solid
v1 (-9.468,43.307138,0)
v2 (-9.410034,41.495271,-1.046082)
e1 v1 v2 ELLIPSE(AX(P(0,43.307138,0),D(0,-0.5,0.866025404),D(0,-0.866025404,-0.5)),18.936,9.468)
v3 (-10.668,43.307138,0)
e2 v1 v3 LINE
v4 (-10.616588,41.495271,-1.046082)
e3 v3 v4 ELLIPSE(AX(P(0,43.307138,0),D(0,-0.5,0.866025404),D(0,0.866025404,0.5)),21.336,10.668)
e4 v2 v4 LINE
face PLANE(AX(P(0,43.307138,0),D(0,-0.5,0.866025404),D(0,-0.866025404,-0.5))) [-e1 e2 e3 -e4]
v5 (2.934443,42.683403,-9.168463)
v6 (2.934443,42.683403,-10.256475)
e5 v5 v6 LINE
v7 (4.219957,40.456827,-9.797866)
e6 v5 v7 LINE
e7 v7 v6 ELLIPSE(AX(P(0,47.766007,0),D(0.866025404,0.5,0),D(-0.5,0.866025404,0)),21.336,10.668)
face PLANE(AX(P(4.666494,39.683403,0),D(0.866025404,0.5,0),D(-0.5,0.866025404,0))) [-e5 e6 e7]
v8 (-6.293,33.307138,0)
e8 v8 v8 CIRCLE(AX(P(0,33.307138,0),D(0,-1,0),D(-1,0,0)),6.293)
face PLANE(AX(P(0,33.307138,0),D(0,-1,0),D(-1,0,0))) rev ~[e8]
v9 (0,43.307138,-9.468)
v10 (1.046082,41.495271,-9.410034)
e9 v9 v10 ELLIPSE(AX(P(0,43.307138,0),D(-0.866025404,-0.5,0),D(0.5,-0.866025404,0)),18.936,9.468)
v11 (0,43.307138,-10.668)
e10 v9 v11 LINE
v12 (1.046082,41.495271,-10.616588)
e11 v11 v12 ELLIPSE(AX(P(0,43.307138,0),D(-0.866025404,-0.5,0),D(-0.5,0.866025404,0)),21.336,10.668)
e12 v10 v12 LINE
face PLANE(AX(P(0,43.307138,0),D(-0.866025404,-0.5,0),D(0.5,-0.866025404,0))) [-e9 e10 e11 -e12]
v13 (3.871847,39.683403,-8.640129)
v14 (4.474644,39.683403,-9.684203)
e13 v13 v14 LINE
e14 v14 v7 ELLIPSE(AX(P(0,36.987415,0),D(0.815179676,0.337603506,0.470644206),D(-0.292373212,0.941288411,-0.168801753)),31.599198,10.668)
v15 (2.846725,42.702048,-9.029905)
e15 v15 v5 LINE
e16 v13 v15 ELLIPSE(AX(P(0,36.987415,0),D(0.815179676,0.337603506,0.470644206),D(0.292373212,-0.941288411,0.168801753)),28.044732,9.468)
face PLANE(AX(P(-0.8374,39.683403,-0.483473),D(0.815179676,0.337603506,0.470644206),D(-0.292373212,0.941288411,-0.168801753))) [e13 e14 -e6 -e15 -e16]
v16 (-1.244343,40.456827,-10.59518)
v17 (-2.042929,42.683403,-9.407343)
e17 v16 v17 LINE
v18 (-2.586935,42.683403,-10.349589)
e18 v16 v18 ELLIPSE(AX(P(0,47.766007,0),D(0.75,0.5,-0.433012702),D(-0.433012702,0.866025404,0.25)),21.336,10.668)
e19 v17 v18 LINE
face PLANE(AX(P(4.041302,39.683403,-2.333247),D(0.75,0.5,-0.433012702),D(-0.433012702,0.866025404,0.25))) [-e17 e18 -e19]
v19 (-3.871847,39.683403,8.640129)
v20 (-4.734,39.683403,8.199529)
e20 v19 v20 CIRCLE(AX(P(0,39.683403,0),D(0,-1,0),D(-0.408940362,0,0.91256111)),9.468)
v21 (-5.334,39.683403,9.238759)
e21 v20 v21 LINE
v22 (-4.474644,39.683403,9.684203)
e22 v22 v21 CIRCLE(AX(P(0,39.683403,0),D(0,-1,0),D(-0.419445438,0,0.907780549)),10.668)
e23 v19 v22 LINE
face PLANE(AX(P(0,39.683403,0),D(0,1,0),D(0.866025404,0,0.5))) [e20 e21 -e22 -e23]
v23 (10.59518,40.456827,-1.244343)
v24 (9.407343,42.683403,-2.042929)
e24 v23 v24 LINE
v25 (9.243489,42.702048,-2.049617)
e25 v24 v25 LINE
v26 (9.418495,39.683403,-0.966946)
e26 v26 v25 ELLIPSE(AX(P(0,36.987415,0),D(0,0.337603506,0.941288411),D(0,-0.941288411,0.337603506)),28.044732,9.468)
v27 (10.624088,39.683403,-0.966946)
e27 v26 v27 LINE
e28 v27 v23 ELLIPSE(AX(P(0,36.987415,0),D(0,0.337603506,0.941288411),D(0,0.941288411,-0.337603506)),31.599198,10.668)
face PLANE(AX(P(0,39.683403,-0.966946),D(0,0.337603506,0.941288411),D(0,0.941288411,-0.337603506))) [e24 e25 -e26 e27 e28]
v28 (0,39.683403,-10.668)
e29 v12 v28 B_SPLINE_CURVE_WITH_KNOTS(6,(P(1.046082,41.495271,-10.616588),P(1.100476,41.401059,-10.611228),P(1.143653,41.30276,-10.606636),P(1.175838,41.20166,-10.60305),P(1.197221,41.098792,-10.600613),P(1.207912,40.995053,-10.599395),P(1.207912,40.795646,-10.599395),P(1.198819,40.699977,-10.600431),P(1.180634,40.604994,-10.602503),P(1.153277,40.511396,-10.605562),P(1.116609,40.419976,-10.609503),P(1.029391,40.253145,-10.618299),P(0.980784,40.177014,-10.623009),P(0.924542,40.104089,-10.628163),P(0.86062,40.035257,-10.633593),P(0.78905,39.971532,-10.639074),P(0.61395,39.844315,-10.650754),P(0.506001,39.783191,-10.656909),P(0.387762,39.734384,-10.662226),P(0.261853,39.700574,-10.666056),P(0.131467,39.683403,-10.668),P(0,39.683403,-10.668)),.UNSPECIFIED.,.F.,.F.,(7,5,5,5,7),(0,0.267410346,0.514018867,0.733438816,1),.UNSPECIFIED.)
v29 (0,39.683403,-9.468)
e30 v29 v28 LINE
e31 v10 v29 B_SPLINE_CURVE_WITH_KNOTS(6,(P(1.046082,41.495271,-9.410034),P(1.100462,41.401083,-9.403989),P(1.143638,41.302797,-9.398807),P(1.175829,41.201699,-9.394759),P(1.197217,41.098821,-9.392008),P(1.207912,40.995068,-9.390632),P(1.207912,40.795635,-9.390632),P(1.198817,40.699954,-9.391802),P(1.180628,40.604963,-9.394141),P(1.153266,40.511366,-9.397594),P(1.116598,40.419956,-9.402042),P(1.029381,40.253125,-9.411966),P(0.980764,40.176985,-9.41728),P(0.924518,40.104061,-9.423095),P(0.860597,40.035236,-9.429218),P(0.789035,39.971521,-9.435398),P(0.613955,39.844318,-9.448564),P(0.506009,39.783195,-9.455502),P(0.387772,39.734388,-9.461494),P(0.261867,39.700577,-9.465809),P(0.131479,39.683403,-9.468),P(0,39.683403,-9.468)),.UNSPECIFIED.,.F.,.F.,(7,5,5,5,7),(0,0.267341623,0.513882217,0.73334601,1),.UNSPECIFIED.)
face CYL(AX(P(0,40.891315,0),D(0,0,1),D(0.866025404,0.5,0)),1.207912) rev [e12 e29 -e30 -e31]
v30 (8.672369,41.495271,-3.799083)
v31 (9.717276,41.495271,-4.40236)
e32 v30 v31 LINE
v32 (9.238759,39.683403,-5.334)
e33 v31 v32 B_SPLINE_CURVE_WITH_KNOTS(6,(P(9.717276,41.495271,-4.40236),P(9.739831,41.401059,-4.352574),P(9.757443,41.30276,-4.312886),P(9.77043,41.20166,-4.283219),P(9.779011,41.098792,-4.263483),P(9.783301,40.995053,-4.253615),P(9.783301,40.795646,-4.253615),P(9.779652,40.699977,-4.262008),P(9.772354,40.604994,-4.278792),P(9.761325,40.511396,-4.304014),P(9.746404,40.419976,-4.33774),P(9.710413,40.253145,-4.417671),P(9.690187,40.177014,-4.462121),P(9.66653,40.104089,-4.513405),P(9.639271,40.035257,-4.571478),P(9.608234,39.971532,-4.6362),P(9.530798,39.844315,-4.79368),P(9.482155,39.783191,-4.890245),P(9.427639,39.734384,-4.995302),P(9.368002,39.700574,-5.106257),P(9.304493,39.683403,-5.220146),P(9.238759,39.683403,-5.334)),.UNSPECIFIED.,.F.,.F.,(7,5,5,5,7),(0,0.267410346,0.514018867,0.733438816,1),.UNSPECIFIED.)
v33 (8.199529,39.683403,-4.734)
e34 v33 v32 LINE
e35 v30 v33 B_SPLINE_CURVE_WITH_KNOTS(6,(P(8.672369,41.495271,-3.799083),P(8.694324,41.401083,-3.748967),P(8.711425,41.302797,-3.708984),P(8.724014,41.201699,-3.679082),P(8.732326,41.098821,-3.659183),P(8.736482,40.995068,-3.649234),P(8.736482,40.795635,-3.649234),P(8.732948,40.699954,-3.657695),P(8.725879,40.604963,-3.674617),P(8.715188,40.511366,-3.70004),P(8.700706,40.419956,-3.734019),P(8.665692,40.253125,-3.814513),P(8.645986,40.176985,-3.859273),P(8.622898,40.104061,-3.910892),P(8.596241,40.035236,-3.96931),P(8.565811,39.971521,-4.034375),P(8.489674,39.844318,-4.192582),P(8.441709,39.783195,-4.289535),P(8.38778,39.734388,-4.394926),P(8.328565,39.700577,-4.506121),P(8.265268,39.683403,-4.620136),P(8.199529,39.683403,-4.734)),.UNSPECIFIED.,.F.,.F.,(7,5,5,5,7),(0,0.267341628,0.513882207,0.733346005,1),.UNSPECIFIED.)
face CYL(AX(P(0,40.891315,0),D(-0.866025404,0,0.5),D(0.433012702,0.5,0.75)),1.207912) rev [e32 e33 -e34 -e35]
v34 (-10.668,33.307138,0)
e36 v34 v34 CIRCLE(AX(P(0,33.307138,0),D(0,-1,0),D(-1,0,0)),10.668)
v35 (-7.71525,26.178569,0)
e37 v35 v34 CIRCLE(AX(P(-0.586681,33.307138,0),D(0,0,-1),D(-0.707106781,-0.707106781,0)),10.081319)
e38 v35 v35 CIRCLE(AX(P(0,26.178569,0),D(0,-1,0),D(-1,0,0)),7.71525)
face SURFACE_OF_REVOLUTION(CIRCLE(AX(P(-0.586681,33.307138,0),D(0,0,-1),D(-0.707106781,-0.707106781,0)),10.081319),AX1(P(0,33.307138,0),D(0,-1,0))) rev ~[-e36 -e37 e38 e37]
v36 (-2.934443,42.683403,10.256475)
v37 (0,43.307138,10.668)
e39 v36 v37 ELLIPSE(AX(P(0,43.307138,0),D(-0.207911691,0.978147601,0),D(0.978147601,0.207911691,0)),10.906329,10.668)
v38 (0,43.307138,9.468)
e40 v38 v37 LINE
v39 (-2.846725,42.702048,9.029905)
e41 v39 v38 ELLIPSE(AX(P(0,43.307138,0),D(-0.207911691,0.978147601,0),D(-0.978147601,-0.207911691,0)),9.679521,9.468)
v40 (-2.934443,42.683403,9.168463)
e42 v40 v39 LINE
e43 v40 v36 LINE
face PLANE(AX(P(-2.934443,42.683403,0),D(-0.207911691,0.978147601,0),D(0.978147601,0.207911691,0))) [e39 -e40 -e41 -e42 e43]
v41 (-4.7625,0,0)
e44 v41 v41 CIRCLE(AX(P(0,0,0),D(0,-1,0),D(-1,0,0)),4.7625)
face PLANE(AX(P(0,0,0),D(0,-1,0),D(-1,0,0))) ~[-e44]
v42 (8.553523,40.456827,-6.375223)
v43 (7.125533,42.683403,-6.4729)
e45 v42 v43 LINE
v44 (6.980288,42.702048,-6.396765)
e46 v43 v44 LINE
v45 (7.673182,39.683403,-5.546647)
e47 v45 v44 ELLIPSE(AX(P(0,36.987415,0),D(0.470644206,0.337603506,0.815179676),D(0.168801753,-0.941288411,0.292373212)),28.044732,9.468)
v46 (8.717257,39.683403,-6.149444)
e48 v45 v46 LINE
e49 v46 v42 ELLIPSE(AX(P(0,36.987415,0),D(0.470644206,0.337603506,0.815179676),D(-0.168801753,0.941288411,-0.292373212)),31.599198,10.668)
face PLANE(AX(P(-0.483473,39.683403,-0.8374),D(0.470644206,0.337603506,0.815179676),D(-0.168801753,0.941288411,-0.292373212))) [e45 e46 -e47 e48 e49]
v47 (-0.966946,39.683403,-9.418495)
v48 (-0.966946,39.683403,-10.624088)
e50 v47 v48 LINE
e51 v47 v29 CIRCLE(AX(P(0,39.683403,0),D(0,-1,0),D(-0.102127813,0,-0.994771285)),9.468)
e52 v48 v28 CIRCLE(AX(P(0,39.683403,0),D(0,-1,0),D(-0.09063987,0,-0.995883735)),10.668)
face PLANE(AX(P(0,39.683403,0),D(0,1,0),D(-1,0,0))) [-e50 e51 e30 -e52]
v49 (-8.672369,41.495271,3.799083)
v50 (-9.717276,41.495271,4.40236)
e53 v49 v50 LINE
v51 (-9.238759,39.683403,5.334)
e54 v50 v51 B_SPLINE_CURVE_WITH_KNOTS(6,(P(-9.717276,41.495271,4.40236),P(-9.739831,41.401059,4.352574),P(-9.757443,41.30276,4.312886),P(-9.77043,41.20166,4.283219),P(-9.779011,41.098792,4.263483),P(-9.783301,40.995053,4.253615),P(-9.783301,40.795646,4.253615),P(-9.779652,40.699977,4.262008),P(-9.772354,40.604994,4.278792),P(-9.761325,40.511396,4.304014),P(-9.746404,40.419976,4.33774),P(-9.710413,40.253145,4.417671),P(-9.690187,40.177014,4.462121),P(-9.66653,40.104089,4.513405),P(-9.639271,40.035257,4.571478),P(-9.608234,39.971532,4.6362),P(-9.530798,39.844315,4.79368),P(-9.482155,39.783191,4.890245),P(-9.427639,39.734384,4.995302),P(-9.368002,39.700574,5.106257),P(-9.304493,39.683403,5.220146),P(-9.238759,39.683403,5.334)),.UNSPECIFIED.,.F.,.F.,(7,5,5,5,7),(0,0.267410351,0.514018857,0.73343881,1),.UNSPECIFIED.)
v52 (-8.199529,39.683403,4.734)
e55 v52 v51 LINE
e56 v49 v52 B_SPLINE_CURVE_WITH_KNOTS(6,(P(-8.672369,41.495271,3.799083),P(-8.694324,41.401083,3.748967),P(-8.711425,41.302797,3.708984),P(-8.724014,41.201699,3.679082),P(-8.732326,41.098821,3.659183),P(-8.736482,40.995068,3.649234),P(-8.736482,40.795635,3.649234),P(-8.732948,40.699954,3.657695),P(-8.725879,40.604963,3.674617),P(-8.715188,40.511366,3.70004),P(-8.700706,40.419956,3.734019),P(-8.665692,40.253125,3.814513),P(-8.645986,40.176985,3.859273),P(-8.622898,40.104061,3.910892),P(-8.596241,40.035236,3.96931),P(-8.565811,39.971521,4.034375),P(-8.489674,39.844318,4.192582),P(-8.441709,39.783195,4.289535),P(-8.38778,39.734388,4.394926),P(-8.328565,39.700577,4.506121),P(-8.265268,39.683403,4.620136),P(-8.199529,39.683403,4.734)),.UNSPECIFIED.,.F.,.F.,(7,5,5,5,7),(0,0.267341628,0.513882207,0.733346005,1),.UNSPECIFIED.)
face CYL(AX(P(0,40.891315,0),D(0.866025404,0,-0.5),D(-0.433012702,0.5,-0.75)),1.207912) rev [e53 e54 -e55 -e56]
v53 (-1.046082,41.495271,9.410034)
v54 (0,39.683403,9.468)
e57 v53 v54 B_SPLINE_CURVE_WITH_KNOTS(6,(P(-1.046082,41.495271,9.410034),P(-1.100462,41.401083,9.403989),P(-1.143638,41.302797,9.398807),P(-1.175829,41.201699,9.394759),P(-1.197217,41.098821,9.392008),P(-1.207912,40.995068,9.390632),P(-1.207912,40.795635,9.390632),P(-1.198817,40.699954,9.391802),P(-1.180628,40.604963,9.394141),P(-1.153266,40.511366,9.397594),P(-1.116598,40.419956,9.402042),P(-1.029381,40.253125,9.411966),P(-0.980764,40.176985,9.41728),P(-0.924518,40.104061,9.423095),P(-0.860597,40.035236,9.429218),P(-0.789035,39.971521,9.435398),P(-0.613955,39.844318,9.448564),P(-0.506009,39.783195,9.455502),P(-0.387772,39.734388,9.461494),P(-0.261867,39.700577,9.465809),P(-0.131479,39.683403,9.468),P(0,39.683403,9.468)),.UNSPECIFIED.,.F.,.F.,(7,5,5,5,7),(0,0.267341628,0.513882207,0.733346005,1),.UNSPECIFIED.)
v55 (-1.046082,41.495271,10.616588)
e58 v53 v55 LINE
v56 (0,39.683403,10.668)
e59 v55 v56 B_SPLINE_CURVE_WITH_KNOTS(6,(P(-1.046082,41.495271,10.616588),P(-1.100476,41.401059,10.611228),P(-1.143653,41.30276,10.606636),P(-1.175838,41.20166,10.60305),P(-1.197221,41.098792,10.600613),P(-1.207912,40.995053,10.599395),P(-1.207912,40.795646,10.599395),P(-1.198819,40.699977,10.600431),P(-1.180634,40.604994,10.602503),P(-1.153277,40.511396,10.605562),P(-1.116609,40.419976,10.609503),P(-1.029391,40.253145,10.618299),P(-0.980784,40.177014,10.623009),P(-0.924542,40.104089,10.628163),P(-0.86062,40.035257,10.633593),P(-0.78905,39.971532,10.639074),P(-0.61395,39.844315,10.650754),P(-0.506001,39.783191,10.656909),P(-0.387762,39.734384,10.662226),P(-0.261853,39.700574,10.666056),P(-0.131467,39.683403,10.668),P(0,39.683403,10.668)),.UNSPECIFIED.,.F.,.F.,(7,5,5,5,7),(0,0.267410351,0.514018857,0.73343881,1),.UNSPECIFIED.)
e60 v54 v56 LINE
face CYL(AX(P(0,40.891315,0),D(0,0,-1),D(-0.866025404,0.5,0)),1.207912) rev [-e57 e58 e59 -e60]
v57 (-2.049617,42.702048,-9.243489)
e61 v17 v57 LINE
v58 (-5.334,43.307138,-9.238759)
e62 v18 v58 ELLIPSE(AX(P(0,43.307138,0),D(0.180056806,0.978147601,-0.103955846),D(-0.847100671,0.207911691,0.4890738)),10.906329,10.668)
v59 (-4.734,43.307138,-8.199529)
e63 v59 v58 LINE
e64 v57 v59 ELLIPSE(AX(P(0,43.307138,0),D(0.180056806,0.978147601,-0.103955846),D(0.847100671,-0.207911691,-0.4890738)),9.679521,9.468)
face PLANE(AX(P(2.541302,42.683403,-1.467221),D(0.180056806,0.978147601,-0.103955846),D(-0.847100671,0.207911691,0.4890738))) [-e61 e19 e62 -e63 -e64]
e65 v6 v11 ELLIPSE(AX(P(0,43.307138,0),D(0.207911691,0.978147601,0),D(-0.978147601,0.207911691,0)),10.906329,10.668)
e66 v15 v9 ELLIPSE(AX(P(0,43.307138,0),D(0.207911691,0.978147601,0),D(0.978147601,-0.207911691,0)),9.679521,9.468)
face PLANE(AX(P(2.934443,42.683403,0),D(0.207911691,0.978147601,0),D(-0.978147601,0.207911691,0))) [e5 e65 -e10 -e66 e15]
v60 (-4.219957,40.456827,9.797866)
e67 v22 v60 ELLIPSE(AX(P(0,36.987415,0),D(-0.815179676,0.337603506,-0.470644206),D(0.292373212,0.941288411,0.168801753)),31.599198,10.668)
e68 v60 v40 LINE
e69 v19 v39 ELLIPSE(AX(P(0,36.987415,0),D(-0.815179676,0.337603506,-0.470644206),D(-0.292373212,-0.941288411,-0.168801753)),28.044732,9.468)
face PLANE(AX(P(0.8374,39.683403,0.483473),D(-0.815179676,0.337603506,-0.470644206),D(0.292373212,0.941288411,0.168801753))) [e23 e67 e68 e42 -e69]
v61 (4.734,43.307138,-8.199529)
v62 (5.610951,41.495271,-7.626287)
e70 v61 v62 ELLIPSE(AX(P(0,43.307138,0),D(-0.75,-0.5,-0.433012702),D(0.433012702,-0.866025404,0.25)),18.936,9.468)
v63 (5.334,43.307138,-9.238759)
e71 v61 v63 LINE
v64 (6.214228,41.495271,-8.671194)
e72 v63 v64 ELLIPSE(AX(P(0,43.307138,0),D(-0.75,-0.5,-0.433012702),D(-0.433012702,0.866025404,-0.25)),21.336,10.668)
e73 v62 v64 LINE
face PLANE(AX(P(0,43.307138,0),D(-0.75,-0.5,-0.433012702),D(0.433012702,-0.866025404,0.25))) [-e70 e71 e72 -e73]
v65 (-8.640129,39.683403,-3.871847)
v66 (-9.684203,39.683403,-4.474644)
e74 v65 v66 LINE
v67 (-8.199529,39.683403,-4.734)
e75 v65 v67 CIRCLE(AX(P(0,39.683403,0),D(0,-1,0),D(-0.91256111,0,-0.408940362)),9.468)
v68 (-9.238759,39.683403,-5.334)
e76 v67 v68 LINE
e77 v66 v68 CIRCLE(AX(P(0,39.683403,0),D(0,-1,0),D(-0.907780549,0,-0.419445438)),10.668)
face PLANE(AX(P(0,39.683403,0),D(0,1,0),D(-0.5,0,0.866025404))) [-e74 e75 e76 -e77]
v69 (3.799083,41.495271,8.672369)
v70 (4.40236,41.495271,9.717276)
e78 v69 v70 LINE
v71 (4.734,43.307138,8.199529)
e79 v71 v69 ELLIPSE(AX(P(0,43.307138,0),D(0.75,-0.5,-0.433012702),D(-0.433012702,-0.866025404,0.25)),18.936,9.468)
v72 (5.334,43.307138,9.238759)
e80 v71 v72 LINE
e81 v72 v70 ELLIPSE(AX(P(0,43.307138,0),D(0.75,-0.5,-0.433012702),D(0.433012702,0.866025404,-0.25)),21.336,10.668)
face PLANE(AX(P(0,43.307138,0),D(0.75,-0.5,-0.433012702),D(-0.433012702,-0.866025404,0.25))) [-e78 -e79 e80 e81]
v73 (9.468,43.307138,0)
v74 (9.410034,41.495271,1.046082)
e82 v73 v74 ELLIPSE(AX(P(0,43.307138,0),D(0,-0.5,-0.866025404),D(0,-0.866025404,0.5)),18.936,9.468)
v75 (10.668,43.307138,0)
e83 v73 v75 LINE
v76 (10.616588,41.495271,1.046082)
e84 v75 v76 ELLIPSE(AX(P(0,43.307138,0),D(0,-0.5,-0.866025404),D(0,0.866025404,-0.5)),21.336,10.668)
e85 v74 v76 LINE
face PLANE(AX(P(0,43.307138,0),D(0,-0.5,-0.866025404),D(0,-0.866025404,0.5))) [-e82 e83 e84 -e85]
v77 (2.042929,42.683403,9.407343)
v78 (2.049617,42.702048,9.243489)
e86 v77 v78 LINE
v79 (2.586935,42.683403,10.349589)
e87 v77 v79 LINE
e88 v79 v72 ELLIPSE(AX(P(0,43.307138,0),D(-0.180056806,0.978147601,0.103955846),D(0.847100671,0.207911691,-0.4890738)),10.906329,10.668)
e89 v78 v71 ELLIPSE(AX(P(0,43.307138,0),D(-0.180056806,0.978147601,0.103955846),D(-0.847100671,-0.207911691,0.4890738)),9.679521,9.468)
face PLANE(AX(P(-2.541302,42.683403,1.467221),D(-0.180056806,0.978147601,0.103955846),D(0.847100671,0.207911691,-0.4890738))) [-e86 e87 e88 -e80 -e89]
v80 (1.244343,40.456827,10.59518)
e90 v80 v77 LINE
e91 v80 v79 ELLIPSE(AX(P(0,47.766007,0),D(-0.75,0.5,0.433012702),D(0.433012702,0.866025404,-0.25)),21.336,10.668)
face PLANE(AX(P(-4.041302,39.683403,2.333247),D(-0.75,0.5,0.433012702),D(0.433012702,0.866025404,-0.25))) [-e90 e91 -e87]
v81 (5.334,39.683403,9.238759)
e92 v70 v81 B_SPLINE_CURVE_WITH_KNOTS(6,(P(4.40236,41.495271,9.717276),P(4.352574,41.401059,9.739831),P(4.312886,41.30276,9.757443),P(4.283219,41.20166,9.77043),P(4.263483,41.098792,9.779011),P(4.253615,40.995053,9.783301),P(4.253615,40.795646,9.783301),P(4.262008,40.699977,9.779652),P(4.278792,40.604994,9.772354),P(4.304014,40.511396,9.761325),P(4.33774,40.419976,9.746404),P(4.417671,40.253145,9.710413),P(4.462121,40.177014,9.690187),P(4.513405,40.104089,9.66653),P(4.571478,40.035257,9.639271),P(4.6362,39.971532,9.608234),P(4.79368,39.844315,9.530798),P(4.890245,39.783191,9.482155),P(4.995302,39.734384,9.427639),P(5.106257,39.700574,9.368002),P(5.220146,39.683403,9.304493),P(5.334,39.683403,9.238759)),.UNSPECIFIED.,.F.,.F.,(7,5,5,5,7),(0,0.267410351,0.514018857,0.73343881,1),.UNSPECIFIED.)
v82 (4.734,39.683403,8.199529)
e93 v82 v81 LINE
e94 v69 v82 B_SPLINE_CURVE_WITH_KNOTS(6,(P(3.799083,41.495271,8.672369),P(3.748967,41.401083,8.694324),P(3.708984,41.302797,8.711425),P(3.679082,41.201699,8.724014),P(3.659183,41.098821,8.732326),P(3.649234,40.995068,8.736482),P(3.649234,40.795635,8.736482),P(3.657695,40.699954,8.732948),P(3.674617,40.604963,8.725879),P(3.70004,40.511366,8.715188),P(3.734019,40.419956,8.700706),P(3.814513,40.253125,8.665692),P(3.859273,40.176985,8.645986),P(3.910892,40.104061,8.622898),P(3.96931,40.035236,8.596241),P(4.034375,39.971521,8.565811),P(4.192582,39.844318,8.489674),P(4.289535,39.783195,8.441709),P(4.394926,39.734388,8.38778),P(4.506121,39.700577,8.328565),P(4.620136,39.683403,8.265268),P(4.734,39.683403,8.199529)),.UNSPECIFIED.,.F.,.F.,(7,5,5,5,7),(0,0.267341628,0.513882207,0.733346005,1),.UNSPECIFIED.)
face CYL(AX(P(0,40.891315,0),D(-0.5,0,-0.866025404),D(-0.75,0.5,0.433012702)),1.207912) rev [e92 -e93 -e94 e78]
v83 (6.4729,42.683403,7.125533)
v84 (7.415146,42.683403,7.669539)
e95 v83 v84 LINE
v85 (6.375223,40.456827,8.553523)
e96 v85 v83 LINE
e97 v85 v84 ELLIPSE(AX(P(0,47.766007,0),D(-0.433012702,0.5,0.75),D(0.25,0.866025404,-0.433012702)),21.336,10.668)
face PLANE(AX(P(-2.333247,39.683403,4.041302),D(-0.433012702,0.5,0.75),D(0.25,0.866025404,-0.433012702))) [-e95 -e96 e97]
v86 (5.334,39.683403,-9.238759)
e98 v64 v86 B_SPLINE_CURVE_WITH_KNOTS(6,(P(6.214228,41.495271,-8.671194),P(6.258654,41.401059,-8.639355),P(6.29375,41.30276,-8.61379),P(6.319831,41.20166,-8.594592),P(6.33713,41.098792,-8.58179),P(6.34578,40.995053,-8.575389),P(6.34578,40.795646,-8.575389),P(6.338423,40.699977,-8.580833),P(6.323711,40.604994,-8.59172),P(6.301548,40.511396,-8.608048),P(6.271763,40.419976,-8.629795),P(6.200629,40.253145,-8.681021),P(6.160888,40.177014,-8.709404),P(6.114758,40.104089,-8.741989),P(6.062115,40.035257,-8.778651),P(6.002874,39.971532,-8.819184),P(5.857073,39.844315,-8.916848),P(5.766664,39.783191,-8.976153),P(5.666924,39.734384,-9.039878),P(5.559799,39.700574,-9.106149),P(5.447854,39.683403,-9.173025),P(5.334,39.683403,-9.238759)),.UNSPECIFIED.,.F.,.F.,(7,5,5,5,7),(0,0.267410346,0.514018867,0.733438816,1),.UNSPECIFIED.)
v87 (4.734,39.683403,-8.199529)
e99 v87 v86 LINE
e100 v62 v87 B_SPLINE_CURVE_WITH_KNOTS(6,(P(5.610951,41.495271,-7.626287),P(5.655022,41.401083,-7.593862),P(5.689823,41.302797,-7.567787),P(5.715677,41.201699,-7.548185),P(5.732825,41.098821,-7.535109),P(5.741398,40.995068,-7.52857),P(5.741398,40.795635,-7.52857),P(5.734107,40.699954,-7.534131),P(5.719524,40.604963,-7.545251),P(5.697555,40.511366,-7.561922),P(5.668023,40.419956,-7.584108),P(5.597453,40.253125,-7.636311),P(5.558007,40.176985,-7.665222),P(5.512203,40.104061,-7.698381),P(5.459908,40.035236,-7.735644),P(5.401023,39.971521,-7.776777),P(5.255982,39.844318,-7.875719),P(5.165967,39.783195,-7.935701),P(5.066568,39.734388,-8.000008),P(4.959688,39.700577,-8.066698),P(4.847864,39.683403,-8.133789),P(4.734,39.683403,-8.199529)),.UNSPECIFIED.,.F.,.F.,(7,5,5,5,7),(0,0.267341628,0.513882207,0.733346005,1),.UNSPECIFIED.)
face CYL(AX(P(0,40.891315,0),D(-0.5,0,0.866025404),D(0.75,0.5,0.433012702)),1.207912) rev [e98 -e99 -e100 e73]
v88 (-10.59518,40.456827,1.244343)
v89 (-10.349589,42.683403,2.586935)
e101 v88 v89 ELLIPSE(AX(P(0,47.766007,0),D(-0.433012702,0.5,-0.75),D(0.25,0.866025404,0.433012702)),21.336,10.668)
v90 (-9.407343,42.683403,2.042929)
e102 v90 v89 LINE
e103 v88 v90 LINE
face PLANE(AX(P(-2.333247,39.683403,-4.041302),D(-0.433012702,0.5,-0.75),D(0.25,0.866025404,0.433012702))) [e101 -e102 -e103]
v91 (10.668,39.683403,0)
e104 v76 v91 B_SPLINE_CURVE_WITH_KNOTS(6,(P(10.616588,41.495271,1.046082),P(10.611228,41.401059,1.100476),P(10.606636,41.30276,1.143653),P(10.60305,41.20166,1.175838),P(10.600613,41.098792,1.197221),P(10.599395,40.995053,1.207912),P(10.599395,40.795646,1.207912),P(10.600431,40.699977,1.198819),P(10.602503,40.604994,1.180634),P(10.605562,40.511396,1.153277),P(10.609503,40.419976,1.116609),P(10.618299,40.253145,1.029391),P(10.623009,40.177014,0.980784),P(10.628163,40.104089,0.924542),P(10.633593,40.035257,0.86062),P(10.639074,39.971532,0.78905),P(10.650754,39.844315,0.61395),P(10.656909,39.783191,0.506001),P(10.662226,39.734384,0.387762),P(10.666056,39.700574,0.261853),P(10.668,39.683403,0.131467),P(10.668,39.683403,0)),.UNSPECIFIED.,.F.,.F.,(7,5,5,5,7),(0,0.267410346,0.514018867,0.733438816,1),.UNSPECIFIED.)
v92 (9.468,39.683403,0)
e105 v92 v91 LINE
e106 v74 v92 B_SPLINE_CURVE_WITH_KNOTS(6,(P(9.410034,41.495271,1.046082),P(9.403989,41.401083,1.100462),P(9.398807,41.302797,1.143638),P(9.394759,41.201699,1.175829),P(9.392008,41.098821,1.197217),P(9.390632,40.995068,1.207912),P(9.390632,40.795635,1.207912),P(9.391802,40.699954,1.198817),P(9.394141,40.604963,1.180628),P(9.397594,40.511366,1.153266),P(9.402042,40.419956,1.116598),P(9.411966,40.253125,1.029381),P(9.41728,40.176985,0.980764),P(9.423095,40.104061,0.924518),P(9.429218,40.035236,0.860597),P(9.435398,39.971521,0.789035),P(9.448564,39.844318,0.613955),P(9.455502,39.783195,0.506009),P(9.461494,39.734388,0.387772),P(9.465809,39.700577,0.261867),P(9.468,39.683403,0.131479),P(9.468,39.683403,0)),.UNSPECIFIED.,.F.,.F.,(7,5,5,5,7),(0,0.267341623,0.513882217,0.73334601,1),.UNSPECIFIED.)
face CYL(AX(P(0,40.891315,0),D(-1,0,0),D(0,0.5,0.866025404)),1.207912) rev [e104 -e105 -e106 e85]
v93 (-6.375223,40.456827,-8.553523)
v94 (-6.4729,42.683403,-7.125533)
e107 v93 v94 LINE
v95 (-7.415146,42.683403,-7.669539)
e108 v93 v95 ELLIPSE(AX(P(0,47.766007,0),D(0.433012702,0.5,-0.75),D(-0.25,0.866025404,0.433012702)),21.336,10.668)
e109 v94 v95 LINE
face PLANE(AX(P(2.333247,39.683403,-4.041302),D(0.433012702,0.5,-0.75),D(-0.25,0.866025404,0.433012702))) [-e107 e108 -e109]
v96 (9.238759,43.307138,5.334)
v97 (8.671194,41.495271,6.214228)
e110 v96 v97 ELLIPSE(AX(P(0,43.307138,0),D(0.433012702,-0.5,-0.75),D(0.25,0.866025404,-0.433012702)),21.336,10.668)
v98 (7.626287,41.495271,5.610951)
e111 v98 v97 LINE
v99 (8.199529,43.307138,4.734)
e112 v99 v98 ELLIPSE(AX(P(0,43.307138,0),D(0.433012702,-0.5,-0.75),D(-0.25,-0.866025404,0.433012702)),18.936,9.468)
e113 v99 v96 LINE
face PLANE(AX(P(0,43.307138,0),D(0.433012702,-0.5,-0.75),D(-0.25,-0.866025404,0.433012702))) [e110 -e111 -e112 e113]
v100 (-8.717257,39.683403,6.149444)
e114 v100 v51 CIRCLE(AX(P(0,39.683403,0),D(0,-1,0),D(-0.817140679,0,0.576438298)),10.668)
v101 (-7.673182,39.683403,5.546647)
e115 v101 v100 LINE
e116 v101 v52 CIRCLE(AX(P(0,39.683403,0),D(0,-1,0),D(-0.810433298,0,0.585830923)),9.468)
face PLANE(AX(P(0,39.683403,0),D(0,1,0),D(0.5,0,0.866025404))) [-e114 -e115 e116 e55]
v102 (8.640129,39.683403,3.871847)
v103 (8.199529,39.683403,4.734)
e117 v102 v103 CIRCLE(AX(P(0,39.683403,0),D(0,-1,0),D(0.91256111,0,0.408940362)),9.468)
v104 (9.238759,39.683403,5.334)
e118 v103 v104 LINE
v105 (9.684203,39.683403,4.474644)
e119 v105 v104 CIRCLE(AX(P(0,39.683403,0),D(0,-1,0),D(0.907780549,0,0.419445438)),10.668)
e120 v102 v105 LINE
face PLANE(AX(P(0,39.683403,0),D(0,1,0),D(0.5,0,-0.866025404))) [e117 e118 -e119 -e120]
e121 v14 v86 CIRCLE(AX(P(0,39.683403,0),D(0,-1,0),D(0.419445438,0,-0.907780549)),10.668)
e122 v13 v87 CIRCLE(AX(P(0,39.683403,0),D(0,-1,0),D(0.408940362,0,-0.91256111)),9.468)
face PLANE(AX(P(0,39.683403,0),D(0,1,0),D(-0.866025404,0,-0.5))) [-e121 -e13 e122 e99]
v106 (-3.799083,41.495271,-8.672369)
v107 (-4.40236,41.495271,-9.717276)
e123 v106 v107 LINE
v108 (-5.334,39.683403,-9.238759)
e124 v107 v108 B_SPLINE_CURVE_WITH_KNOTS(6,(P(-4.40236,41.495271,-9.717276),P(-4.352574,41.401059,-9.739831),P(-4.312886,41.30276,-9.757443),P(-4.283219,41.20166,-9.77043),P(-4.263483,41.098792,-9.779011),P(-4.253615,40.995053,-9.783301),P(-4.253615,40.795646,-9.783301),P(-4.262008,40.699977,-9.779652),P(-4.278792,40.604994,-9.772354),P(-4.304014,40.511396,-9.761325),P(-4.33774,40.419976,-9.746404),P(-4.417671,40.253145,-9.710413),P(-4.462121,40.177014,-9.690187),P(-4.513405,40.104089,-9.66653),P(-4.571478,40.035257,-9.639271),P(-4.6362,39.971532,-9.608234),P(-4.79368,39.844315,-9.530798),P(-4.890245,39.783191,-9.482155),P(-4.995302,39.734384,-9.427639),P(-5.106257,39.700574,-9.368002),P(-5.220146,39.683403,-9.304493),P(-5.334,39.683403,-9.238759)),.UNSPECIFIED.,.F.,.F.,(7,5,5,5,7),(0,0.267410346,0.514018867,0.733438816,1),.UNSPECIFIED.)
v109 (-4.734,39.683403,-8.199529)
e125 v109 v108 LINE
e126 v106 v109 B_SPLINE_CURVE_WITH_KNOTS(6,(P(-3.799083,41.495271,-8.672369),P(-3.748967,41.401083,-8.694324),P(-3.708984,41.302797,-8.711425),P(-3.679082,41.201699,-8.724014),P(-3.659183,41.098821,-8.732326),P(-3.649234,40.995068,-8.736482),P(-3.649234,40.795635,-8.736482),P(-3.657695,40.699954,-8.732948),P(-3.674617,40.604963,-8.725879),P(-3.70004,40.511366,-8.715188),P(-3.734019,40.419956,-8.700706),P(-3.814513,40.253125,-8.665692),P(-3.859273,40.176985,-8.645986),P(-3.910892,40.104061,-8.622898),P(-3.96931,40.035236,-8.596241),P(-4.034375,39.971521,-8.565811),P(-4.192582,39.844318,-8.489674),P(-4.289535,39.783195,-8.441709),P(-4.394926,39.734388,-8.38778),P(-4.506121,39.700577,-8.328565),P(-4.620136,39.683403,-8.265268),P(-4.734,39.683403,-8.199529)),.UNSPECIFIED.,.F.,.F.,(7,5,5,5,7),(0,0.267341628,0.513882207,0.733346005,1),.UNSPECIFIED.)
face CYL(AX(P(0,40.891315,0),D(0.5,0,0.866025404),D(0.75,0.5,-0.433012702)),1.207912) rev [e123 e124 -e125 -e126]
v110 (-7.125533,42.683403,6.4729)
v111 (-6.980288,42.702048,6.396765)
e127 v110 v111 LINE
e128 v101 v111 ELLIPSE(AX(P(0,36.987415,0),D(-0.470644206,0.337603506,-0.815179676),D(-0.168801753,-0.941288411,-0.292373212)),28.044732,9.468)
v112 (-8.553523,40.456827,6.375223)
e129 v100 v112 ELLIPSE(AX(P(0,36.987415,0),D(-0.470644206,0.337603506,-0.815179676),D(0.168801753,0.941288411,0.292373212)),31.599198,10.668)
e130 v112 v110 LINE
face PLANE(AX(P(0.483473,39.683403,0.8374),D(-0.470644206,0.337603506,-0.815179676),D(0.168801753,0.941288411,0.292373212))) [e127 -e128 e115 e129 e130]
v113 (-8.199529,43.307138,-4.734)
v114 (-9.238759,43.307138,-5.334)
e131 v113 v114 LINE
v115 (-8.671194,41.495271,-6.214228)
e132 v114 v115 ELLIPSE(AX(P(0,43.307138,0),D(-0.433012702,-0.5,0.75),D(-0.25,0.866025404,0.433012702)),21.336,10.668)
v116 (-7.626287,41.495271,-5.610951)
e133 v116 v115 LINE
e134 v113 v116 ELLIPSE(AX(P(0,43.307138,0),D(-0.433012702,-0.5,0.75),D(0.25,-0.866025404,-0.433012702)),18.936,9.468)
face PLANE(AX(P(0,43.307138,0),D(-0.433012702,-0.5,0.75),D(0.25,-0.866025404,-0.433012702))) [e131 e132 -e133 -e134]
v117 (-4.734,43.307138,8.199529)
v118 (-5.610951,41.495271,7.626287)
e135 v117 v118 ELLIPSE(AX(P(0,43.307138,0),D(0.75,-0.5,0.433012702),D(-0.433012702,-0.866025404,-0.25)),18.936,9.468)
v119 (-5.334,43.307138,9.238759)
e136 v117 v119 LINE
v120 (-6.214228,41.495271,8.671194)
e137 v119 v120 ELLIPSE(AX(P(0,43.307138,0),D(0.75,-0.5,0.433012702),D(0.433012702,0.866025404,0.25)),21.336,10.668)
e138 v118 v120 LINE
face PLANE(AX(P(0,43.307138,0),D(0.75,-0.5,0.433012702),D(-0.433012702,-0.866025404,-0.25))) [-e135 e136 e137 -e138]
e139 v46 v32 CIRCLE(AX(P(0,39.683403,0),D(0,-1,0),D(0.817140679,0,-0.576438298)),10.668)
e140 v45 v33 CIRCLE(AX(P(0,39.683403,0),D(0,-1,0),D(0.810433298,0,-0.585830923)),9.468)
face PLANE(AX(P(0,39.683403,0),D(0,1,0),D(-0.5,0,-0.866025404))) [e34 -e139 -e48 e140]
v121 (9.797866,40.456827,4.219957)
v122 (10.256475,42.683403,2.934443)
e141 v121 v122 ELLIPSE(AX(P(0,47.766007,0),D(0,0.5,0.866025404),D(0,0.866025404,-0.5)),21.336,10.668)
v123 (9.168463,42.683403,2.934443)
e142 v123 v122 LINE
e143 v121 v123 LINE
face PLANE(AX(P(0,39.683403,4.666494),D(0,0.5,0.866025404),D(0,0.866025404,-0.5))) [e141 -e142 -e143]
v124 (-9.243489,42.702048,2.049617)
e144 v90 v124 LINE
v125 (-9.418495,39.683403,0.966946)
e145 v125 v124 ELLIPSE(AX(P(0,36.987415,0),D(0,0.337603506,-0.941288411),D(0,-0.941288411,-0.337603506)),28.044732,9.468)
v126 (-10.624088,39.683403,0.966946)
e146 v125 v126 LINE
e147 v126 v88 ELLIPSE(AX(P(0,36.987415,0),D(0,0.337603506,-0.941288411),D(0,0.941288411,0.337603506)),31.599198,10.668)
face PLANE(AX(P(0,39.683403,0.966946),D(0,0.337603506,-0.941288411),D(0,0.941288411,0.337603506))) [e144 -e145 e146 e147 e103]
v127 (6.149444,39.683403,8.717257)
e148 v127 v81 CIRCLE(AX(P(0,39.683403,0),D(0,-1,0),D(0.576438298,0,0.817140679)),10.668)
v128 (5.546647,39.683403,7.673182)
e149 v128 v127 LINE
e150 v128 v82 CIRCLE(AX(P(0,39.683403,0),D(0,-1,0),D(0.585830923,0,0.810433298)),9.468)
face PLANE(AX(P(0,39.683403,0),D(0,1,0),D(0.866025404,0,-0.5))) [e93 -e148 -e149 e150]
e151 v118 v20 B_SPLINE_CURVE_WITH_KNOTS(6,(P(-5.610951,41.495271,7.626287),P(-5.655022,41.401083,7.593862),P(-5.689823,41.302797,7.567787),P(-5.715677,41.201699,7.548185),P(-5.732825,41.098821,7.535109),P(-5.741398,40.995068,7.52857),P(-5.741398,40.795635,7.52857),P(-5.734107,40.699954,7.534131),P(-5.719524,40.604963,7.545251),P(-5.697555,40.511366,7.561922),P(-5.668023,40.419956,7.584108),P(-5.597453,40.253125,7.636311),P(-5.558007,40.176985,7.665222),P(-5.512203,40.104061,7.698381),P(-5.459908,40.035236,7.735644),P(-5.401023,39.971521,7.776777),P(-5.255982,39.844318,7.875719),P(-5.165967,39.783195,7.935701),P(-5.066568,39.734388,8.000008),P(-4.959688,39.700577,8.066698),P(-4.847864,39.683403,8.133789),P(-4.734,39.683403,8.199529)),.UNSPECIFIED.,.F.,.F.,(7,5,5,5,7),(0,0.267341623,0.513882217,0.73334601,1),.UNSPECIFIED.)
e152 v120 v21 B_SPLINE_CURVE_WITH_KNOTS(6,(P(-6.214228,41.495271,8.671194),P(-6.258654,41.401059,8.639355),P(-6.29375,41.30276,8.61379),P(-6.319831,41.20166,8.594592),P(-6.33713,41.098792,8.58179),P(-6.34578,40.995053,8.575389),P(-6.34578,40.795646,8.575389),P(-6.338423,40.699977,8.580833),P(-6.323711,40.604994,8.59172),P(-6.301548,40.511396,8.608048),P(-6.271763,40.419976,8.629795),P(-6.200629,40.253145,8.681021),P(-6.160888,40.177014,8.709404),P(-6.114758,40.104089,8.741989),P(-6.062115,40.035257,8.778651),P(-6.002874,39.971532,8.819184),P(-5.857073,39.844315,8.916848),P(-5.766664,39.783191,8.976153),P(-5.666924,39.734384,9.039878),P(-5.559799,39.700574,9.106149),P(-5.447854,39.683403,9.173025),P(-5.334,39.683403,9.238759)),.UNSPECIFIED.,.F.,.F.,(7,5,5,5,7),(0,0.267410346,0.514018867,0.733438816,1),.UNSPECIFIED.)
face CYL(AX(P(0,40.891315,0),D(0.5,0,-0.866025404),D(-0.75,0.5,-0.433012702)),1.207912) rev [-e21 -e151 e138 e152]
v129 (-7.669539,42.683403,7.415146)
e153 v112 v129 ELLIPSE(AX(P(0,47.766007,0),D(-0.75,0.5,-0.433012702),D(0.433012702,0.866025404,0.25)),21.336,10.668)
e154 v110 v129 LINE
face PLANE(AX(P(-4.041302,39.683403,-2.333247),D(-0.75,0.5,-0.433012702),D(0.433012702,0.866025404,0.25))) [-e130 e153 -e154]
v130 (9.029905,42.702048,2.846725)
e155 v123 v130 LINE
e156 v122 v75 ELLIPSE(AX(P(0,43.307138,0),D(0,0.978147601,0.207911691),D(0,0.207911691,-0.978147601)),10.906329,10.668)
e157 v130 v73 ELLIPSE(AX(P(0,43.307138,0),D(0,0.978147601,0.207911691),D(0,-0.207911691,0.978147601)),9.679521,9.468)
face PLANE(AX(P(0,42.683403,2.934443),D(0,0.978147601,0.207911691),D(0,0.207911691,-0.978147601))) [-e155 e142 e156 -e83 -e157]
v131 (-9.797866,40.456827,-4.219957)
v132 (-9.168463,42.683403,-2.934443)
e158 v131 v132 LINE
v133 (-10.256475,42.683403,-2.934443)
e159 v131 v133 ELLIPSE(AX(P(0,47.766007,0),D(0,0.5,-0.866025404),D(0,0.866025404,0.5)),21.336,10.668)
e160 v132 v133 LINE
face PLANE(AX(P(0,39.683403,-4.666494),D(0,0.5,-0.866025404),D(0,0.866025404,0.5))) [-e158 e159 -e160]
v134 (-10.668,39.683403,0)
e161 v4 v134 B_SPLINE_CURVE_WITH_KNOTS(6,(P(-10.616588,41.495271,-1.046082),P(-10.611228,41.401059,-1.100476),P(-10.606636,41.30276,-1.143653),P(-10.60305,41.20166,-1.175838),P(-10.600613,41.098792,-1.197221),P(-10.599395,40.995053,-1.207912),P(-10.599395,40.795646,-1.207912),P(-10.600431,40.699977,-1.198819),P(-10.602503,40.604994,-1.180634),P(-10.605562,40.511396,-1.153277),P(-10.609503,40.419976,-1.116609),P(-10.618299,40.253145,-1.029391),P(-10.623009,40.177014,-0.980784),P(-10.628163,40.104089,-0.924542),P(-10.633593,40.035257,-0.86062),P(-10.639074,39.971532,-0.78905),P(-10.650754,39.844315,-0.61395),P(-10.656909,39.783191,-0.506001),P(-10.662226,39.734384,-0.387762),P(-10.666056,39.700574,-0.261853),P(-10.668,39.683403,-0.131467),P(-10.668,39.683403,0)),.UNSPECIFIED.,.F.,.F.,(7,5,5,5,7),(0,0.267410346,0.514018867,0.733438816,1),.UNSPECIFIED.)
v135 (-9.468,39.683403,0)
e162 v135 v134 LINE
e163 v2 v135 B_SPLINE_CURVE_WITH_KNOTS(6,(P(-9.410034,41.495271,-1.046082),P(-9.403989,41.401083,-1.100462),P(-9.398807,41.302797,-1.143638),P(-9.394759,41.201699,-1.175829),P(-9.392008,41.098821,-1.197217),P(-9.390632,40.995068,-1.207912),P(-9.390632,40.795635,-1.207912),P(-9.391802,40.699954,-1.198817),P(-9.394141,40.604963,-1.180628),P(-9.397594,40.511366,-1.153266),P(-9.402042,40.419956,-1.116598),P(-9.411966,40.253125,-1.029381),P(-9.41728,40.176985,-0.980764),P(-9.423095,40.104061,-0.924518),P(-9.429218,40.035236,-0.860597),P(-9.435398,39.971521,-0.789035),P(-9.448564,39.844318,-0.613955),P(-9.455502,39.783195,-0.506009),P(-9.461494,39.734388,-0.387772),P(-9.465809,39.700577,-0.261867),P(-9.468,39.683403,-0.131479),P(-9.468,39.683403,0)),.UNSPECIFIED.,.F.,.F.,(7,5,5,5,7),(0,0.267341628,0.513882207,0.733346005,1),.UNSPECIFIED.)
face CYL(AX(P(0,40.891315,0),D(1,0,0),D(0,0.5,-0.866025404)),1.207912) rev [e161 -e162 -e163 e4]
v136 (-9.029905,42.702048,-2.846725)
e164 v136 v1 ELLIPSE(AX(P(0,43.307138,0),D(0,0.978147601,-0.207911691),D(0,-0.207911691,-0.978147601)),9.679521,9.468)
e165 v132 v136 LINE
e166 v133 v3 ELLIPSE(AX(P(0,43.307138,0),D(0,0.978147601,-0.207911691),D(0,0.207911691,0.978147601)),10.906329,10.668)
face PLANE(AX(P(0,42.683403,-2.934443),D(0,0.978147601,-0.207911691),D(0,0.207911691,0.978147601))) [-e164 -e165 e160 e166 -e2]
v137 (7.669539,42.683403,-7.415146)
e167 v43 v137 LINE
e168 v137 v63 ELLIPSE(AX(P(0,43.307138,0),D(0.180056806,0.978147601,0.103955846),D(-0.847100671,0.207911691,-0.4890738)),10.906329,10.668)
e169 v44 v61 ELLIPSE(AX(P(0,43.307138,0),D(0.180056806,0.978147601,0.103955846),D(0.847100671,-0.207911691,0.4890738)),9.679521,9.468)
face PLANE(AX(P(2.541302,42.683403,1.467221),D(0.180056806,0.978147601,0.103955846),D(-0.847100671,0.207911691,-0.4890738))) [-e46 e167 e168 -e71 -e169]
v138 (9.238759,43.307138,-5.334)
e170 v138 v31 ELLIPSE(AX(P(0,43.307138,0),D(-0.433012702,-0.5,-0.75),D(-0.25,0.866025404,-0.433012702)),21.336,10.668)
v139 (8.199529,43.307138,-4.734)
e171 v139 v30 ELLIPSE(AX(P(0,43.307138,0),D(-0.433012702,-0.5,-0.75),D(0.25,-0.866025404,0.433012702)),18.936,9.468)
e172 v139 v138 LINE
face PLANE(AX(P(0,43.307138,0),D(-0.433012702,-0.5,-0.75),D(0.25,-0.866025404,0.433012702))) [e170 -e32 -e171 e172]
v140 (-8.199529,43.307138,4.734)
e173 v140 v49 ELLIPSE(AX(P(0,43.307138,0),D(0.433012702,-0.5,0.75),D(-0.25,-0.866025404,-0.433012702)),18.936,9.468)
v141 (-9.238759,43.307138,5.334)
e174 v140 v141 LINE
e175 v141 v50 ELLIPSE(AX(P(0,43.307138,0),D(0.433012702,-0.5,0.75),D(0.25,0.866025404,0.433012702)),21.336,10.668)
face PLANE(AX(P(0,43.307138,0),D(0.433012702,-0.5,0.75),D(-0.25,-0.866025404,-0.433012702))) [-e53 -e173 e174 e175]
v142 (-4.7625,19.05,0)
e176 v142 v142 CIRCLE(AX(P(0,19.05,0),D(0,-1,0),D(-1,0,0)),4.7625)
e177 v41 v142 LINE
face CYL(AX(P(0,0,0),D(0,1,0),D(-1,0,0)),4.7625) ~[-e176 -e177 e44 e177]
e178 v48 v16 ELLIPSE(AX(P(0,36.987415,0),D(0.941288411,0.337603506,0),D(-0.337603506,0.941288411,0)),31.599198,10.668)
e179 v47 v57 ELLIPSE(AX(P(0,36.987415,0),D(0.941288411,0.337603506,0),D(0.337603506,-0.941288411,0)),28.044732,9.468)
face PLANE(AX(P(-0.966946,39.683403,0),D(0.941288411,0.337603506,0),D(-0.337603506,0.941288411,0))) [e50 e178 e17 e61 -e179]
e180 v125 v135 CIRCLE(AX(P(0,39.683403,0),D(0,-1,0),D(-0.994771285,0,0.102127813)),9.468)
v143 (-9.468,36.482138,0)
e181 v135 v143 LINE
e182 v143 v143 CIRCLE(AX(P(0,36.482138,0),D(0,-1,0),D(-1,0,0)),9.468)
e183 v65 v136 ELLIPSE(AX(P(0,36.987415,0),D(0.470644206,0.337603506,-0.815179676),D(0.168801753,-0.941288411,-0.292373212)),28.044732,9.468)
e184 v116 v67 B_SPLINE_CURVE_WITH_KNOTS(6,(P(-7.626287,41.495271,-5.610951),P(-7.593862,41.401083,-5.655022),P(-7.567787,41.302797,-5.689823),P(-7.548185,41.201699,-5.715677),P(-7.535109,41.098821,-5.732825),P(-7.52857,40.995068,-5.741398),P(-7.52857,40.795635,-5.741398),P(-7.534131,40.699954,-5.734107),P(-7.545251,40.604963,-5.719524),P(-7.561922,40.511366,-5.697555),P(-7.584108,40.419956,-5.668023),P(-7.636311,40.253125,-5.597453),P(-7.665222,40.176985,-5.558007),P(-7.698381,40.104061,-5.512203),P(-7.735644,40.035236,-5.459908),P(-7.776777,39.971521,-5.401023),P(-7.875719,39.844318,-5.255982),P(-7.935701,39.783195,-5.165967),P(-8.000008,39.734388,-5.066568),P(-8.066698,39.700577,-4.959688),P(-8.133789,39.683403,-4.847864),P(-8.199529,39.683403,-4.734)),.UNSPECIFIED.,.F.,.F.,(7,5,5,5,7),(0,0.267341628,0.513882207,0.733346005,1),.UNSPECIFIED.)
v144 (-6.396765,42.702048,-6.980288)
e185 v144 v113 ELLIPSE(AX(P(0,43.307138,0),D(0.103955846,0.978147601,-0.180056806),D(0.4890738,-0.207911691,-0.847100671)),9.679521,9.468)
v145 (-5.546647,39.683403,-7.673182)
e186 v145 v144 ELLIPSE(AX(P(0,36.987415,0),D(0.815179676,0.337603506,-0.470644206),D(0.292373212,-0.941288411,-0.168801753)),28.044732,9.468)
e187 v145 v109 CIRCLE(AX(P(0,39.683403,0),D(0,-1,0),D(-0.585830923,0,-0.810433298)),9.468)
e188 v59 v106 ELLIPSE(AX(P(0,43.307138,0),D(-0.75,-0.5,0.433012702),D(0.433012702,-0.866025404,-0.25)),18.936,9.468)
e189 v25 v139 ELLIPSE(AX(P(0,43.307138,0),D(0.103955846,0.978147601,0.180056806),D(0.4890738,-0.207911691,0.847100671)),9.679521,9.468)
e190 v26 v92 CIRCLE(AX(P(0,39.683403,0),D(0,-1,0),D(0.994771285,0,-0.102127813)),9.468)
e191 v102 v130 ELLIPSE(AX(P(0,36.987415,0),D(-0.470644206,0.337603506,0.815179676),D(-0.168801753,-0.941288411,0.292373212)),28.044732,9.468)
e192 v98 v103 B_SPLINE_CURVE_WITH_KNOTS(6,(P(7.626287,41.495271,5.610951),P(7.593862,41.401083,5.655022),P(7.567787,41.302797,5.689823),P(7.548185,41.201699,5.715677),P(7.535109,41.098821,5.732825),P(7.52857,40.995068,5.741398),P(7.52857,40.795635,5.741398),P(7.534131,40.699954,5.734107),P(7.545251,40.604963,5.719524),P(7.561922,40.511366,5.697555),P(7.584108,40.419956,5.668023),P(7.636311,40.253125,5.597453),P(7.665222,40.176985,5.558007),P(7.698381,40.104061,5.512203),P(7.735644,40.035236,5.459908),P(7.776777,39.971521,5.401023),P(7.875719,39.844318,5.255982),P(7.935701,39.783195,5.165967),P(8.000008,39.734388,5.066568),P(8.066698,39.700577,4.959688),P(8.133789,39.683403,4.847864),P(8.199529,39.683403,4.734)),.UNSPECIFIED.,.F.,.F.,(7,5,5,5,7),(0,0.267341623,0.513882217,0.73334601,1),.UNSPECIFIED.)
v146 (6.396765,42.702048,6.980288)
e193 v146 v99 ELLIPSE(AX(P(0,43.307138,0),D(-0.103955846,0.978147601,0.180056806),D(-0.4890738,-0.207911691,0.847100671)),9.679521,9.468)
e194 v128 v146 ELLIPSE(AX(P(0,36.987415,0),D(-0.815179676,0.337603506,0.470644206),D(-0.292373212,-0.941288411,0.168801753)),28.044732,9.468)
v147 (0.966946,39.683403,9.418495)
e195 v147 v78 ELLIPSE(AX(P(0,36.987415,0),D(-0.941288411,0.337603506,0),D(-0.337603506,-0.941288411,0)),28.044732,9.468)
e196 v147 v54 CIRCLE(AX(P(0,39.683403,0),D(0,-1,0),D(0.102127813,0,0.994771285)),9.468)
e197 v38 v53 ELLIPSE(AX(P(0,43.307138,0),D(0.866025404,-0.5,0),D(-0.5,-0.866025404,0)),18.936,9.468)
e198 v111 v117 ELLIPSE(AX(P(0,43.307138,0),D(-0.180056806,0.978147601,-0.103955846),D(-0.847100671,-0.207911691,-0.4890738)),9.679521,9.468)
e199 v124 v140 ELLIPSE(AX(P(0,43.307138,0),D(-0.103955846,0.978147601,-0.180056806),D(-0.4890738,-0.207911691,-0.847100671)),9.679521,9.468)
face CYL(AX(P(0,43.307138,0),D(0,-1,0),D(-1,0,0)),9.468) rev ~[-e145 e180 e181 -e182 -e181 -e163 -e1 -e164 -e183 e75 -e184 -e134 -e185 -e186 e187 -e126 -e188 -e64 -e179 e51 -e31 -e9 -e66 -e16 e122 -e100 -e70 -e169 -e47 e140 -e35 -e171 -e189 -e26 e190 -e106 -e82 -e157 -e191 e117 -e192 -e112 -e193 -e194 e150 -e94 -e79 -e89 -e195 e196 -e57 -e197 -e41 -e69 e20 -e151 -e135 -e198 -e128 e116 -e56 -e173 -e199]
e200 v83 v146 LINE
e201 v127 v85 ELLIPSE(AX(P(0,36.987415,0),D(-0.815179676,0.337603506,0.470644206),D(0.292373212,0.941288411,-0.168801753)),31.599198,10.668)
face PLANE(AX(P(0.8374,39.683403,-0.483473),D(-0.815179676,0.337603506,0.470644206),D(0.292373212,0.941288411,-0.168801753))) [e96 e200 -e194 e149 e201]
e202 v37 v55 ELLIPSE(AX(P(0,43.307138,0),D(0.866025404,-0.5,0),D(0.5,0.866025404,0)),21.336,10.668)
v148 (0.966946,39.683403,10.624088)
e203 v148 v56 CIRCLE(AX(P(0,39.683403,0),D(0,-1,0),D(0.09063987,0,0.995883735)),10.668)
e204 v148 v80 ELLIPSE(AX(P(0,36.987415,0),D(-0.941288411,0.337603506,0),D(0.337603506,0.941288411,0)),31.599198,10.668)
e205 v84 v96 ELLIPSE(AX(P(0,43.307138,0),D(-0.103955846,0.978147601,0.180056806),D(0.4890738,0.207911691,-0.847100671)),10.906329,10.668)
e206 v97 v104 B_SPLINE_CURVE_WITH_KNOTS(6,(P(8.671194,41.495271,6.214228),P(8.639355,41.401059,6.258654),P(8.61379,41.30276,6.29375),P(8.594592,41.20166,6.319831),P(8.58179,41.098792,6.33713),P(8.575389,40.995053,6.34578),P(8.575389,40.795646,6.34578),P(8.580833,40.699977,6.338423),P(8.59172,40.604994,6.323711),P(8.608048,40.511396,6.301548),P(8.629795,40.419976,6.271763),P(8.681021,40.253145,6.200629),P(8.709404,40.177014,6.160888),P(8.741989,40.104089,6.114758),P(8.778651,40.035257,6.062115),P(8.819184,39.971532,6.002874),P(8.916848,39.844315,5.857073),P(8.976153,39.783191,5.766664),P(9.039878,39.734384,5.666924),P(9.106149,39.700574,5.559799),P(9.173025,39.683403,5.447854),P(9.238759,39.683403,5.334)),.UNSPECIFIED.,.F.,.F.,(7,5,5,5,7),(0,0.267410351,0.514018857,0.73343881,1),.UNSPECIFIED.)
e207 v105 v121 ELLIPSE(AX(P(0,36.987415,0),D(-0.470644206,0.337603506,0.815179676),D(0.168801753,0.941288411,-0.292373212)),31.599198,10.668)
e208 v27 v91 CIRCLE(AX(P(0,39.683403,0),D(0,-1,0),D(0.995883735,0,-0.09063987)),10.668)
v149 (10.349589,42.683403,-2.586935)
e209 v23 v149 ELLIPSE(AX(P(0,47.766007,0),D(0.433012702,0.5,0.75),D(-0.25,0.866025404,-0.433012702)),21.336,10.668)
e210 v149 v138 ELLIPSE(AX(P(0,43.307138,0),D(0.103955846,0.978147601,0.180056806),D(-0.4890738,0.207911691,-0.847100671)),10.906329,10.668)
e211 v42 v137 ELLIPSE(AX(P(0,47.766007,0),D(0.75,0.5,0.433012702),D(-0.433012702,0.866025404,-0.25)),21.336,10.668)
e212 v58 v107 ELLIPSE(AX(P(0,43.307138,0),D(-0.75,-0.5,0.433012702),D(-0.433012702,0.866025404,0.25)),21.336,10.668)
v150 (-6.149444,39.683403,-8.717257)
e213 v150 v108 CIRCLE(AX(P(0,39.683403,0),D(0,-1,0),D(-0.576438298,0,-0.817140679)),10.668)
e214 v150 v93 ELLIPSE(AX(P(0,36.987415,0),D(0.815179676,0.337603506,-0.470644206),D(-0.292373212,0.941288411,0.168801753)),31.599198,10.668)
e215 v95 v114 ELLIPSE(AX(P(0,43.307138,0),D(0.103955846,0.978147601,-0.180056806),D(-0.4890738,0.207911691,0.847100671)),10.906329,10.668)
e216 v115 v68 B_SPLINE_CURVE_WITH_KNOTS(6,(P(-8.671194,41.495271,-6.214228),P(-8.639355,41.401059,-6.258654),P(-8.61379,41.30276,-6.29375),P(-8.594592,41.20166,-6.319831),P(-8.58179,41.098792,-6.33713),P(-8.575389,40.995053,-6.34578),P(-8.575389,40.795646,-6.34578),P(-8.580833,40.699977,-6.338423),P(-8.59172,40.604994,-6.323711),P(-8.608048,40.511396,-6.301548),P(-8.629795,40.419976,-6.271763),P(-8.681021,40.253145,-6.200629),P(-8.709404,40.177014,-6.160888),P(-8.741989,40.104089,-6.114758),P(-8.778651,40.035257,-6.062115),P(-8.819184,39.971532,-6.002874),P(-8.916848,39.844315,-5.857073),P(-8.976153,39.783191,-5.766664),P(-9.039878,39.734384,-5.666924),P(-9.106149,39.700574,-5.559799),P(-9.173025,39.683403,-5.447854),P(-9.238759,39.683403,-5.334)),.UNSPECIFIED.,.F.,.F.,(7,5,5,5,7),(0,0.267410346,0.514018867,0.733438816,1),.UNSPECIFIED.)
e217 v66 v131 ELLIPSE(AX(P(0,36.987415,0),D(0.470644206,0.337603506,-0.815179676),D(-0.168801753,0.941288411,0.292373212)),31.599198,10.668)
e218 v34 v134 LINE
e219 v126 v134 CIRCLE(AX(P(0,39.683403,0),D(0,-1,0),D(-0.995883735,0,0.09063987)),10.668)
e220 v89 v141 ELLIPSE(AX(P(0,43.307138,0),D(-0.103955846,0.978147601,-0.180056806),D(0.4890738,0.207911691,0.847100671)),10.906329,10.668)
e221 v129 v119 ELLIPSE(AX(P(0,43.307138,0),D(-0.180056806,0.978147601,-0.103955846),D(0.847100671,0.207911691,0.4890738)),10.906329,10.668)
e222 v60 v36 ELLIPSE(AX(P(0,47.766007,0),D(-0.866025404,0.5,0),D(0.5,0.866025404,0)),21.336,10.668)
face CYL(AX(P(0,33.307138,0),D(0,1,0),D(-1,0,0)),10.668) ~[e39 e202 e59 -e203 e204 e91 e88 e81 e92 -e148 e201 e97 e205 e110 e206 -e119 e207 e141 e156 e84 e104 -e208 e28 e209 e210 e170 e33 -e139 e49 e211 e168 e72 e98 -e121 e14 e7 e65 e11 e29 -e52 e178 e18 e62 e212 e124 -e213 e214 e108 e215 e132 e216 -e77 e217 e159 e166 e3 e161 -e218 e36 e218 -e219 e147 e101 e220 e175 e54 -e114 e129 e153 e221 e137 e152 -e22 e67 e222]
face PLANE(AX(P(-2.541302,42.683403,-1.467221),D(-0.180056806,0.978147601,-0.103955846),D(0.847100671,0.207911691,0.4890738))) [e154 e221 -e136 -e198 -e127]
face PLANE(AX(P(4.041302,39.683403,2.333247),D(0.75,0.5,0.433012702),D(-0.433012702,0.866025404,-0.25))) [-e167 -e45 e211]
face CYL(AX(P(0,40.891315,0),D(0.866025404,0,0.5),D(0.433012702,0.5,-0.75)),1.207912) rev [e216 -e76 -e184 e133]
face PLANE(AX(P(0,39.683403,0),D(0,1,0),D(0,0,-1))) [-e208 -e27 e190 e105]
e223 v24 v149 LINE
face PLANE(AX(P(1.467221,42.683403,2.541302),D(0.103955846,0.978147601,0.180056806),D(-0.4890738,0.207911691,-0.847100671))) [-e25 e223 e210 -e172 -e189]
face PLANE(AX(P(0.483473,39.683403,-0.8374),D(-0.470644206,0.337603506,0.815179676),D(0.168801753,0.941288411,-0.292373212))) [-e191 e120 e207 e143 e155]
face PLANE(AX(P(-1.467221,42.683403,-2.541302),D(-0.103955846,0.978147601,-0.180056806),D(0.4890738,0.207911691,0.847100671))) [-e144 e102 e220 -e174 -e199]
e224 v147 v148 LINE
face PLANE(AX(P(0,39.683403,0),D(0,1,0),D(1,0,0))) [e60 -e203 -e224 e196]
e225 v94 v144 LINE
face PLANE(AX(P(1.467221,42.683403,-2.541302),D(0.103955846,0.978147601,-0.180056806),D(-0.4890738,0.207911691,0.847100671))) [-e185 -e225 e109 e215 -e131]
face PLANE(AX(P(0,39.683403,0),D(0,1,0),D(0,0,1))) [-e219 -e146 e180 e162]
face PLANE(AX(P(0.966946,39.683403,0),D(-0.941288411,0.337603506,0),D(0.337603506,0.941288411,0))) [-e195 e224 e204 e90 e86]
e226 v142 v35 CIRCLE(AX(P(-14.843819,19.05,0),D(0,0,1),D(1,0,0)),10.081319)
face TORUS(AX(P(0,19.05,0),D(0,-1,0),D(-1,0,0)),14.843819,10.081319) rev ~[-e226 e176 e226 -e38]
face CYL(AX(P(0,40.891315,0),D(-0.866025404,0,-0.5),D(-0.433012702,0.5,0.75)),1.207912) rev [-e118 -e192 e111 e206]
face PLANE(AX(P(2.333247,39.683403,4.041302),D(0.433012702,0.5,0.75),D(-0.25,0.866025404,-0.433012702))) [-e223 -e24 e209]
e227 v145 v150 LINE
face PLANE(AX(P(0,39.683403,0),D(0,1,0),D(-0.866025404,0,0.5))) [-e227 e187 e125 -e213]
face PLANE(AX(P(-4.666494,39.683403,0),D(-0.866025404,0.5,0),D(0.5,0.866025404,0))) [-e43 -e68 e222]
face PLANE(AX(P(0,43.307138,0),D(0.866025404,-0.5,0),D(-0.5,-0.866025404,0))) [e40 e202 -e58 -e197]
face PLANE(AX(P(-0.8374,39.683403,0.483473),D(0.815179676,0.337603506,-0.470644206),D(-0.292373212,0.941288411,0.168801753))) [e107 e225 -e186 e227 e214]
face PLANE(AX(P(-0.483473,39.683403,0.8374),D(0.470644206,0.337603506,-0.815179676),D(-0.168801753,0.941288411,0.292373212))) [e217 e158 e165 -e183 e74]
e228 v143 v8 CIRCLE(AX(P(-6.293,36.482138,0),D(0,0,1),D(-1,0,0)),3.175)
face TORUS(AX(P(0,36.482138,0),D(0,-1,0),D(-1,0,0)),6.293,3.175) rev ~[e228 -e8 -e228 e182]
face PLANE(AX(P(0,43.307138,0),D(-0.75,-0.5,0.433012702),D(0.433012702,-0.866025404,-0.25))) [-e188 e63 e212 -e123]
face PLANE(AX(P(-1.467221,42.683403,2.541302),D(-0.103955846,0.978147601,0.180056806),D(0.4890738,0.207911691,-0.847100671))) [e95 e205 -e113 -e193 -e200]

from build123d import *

# Parameters (mm, degrees)
CUT_EXTRUDE1_DEPTH = 19.304
CIRPATTERN2_COUNT  = 12


with BuildPart() as part:
    # Sketch1 → Revolve1 (revolve)
    with BuildSketch(Plane.XY):
        with BuildLine():
            Line((0, 0), (-4.7625, 0))
            Line((-4.7625, 0), (-4.7625, 19.05))
            ThreePointArc((-4.7625, 19.05), (-5.529894723, 22.907953795), (-7.71525, 26.178569096))
            ThreePointArc((-7.71525, 26.178569096), (-9.900605277, 29.449184398), (-10.668, 33.307138193))
            Line((-10.668, 33.307138193), (-10.668, 43.307138193))
            Line((-10.668, 43.307138193), (-9.468, 43.307138193))
            Line((-9.468, 43.307138193), (-9.468, 36.482138193))
            ThreePointArc((-9.468, 36.482138193), (-8.53806403, 34.237074162), (-6.293, 33.307138193))
            Line((-6.293, 33.307138193), (0, 33.307138193))
            Line((0, 33.307138193), (0, 0))
        make_face()
    revolve(axis=Axis((0, 33.307138193, 0), (0, -1, 0)))

    # Sketch2 → Cut-Extrude1 (cut)
    with BuildSketch(Plane.XY):
        with BuildLine():
            Line((0, 43.307138193), (1.04608221, 41.495270656))
            ThreePointArc((1.04608221, 41.495270656), (1.04608221, 40.287358966), (0, 39.68340312))
            Line((0, 39.68340312), (-0.966946132, 39.68340312))
            Line((-0.966946132, 39.68340312), (-2.440808814, 43.792749848))
            Line((-2.440808814, 43.792749848), (4.66649361, 43.792749848))
            Line((4.66649361, 43.792749848), (4.66649361, 39.68340312))
            Line((4.66649361, 39.68340312), (2.934442802, 42.68340312))
            Line((2.934442802, 42.68340312), (0, 43.307138193))
        make_face()
    cut_extrude1 = extrude(amount=-CUT_EXTRUDE1_DEPTH, mode=Mode.SUBTRACT)

    # CirPattern2: Cut-Extrude1 ×12 about axis
    cirpattern2_axis = Axis((0, 36.482138193, 0), (0, 1, 0))
    for i in range(1, CIRPATTERN2_COUNT):
        add(cut_extrude1.rotate(cirpattern2_axis, i * 360 / CIRPATTERN2_COUNT), mode=Mode.SUBTRACT)


solid = part.part
